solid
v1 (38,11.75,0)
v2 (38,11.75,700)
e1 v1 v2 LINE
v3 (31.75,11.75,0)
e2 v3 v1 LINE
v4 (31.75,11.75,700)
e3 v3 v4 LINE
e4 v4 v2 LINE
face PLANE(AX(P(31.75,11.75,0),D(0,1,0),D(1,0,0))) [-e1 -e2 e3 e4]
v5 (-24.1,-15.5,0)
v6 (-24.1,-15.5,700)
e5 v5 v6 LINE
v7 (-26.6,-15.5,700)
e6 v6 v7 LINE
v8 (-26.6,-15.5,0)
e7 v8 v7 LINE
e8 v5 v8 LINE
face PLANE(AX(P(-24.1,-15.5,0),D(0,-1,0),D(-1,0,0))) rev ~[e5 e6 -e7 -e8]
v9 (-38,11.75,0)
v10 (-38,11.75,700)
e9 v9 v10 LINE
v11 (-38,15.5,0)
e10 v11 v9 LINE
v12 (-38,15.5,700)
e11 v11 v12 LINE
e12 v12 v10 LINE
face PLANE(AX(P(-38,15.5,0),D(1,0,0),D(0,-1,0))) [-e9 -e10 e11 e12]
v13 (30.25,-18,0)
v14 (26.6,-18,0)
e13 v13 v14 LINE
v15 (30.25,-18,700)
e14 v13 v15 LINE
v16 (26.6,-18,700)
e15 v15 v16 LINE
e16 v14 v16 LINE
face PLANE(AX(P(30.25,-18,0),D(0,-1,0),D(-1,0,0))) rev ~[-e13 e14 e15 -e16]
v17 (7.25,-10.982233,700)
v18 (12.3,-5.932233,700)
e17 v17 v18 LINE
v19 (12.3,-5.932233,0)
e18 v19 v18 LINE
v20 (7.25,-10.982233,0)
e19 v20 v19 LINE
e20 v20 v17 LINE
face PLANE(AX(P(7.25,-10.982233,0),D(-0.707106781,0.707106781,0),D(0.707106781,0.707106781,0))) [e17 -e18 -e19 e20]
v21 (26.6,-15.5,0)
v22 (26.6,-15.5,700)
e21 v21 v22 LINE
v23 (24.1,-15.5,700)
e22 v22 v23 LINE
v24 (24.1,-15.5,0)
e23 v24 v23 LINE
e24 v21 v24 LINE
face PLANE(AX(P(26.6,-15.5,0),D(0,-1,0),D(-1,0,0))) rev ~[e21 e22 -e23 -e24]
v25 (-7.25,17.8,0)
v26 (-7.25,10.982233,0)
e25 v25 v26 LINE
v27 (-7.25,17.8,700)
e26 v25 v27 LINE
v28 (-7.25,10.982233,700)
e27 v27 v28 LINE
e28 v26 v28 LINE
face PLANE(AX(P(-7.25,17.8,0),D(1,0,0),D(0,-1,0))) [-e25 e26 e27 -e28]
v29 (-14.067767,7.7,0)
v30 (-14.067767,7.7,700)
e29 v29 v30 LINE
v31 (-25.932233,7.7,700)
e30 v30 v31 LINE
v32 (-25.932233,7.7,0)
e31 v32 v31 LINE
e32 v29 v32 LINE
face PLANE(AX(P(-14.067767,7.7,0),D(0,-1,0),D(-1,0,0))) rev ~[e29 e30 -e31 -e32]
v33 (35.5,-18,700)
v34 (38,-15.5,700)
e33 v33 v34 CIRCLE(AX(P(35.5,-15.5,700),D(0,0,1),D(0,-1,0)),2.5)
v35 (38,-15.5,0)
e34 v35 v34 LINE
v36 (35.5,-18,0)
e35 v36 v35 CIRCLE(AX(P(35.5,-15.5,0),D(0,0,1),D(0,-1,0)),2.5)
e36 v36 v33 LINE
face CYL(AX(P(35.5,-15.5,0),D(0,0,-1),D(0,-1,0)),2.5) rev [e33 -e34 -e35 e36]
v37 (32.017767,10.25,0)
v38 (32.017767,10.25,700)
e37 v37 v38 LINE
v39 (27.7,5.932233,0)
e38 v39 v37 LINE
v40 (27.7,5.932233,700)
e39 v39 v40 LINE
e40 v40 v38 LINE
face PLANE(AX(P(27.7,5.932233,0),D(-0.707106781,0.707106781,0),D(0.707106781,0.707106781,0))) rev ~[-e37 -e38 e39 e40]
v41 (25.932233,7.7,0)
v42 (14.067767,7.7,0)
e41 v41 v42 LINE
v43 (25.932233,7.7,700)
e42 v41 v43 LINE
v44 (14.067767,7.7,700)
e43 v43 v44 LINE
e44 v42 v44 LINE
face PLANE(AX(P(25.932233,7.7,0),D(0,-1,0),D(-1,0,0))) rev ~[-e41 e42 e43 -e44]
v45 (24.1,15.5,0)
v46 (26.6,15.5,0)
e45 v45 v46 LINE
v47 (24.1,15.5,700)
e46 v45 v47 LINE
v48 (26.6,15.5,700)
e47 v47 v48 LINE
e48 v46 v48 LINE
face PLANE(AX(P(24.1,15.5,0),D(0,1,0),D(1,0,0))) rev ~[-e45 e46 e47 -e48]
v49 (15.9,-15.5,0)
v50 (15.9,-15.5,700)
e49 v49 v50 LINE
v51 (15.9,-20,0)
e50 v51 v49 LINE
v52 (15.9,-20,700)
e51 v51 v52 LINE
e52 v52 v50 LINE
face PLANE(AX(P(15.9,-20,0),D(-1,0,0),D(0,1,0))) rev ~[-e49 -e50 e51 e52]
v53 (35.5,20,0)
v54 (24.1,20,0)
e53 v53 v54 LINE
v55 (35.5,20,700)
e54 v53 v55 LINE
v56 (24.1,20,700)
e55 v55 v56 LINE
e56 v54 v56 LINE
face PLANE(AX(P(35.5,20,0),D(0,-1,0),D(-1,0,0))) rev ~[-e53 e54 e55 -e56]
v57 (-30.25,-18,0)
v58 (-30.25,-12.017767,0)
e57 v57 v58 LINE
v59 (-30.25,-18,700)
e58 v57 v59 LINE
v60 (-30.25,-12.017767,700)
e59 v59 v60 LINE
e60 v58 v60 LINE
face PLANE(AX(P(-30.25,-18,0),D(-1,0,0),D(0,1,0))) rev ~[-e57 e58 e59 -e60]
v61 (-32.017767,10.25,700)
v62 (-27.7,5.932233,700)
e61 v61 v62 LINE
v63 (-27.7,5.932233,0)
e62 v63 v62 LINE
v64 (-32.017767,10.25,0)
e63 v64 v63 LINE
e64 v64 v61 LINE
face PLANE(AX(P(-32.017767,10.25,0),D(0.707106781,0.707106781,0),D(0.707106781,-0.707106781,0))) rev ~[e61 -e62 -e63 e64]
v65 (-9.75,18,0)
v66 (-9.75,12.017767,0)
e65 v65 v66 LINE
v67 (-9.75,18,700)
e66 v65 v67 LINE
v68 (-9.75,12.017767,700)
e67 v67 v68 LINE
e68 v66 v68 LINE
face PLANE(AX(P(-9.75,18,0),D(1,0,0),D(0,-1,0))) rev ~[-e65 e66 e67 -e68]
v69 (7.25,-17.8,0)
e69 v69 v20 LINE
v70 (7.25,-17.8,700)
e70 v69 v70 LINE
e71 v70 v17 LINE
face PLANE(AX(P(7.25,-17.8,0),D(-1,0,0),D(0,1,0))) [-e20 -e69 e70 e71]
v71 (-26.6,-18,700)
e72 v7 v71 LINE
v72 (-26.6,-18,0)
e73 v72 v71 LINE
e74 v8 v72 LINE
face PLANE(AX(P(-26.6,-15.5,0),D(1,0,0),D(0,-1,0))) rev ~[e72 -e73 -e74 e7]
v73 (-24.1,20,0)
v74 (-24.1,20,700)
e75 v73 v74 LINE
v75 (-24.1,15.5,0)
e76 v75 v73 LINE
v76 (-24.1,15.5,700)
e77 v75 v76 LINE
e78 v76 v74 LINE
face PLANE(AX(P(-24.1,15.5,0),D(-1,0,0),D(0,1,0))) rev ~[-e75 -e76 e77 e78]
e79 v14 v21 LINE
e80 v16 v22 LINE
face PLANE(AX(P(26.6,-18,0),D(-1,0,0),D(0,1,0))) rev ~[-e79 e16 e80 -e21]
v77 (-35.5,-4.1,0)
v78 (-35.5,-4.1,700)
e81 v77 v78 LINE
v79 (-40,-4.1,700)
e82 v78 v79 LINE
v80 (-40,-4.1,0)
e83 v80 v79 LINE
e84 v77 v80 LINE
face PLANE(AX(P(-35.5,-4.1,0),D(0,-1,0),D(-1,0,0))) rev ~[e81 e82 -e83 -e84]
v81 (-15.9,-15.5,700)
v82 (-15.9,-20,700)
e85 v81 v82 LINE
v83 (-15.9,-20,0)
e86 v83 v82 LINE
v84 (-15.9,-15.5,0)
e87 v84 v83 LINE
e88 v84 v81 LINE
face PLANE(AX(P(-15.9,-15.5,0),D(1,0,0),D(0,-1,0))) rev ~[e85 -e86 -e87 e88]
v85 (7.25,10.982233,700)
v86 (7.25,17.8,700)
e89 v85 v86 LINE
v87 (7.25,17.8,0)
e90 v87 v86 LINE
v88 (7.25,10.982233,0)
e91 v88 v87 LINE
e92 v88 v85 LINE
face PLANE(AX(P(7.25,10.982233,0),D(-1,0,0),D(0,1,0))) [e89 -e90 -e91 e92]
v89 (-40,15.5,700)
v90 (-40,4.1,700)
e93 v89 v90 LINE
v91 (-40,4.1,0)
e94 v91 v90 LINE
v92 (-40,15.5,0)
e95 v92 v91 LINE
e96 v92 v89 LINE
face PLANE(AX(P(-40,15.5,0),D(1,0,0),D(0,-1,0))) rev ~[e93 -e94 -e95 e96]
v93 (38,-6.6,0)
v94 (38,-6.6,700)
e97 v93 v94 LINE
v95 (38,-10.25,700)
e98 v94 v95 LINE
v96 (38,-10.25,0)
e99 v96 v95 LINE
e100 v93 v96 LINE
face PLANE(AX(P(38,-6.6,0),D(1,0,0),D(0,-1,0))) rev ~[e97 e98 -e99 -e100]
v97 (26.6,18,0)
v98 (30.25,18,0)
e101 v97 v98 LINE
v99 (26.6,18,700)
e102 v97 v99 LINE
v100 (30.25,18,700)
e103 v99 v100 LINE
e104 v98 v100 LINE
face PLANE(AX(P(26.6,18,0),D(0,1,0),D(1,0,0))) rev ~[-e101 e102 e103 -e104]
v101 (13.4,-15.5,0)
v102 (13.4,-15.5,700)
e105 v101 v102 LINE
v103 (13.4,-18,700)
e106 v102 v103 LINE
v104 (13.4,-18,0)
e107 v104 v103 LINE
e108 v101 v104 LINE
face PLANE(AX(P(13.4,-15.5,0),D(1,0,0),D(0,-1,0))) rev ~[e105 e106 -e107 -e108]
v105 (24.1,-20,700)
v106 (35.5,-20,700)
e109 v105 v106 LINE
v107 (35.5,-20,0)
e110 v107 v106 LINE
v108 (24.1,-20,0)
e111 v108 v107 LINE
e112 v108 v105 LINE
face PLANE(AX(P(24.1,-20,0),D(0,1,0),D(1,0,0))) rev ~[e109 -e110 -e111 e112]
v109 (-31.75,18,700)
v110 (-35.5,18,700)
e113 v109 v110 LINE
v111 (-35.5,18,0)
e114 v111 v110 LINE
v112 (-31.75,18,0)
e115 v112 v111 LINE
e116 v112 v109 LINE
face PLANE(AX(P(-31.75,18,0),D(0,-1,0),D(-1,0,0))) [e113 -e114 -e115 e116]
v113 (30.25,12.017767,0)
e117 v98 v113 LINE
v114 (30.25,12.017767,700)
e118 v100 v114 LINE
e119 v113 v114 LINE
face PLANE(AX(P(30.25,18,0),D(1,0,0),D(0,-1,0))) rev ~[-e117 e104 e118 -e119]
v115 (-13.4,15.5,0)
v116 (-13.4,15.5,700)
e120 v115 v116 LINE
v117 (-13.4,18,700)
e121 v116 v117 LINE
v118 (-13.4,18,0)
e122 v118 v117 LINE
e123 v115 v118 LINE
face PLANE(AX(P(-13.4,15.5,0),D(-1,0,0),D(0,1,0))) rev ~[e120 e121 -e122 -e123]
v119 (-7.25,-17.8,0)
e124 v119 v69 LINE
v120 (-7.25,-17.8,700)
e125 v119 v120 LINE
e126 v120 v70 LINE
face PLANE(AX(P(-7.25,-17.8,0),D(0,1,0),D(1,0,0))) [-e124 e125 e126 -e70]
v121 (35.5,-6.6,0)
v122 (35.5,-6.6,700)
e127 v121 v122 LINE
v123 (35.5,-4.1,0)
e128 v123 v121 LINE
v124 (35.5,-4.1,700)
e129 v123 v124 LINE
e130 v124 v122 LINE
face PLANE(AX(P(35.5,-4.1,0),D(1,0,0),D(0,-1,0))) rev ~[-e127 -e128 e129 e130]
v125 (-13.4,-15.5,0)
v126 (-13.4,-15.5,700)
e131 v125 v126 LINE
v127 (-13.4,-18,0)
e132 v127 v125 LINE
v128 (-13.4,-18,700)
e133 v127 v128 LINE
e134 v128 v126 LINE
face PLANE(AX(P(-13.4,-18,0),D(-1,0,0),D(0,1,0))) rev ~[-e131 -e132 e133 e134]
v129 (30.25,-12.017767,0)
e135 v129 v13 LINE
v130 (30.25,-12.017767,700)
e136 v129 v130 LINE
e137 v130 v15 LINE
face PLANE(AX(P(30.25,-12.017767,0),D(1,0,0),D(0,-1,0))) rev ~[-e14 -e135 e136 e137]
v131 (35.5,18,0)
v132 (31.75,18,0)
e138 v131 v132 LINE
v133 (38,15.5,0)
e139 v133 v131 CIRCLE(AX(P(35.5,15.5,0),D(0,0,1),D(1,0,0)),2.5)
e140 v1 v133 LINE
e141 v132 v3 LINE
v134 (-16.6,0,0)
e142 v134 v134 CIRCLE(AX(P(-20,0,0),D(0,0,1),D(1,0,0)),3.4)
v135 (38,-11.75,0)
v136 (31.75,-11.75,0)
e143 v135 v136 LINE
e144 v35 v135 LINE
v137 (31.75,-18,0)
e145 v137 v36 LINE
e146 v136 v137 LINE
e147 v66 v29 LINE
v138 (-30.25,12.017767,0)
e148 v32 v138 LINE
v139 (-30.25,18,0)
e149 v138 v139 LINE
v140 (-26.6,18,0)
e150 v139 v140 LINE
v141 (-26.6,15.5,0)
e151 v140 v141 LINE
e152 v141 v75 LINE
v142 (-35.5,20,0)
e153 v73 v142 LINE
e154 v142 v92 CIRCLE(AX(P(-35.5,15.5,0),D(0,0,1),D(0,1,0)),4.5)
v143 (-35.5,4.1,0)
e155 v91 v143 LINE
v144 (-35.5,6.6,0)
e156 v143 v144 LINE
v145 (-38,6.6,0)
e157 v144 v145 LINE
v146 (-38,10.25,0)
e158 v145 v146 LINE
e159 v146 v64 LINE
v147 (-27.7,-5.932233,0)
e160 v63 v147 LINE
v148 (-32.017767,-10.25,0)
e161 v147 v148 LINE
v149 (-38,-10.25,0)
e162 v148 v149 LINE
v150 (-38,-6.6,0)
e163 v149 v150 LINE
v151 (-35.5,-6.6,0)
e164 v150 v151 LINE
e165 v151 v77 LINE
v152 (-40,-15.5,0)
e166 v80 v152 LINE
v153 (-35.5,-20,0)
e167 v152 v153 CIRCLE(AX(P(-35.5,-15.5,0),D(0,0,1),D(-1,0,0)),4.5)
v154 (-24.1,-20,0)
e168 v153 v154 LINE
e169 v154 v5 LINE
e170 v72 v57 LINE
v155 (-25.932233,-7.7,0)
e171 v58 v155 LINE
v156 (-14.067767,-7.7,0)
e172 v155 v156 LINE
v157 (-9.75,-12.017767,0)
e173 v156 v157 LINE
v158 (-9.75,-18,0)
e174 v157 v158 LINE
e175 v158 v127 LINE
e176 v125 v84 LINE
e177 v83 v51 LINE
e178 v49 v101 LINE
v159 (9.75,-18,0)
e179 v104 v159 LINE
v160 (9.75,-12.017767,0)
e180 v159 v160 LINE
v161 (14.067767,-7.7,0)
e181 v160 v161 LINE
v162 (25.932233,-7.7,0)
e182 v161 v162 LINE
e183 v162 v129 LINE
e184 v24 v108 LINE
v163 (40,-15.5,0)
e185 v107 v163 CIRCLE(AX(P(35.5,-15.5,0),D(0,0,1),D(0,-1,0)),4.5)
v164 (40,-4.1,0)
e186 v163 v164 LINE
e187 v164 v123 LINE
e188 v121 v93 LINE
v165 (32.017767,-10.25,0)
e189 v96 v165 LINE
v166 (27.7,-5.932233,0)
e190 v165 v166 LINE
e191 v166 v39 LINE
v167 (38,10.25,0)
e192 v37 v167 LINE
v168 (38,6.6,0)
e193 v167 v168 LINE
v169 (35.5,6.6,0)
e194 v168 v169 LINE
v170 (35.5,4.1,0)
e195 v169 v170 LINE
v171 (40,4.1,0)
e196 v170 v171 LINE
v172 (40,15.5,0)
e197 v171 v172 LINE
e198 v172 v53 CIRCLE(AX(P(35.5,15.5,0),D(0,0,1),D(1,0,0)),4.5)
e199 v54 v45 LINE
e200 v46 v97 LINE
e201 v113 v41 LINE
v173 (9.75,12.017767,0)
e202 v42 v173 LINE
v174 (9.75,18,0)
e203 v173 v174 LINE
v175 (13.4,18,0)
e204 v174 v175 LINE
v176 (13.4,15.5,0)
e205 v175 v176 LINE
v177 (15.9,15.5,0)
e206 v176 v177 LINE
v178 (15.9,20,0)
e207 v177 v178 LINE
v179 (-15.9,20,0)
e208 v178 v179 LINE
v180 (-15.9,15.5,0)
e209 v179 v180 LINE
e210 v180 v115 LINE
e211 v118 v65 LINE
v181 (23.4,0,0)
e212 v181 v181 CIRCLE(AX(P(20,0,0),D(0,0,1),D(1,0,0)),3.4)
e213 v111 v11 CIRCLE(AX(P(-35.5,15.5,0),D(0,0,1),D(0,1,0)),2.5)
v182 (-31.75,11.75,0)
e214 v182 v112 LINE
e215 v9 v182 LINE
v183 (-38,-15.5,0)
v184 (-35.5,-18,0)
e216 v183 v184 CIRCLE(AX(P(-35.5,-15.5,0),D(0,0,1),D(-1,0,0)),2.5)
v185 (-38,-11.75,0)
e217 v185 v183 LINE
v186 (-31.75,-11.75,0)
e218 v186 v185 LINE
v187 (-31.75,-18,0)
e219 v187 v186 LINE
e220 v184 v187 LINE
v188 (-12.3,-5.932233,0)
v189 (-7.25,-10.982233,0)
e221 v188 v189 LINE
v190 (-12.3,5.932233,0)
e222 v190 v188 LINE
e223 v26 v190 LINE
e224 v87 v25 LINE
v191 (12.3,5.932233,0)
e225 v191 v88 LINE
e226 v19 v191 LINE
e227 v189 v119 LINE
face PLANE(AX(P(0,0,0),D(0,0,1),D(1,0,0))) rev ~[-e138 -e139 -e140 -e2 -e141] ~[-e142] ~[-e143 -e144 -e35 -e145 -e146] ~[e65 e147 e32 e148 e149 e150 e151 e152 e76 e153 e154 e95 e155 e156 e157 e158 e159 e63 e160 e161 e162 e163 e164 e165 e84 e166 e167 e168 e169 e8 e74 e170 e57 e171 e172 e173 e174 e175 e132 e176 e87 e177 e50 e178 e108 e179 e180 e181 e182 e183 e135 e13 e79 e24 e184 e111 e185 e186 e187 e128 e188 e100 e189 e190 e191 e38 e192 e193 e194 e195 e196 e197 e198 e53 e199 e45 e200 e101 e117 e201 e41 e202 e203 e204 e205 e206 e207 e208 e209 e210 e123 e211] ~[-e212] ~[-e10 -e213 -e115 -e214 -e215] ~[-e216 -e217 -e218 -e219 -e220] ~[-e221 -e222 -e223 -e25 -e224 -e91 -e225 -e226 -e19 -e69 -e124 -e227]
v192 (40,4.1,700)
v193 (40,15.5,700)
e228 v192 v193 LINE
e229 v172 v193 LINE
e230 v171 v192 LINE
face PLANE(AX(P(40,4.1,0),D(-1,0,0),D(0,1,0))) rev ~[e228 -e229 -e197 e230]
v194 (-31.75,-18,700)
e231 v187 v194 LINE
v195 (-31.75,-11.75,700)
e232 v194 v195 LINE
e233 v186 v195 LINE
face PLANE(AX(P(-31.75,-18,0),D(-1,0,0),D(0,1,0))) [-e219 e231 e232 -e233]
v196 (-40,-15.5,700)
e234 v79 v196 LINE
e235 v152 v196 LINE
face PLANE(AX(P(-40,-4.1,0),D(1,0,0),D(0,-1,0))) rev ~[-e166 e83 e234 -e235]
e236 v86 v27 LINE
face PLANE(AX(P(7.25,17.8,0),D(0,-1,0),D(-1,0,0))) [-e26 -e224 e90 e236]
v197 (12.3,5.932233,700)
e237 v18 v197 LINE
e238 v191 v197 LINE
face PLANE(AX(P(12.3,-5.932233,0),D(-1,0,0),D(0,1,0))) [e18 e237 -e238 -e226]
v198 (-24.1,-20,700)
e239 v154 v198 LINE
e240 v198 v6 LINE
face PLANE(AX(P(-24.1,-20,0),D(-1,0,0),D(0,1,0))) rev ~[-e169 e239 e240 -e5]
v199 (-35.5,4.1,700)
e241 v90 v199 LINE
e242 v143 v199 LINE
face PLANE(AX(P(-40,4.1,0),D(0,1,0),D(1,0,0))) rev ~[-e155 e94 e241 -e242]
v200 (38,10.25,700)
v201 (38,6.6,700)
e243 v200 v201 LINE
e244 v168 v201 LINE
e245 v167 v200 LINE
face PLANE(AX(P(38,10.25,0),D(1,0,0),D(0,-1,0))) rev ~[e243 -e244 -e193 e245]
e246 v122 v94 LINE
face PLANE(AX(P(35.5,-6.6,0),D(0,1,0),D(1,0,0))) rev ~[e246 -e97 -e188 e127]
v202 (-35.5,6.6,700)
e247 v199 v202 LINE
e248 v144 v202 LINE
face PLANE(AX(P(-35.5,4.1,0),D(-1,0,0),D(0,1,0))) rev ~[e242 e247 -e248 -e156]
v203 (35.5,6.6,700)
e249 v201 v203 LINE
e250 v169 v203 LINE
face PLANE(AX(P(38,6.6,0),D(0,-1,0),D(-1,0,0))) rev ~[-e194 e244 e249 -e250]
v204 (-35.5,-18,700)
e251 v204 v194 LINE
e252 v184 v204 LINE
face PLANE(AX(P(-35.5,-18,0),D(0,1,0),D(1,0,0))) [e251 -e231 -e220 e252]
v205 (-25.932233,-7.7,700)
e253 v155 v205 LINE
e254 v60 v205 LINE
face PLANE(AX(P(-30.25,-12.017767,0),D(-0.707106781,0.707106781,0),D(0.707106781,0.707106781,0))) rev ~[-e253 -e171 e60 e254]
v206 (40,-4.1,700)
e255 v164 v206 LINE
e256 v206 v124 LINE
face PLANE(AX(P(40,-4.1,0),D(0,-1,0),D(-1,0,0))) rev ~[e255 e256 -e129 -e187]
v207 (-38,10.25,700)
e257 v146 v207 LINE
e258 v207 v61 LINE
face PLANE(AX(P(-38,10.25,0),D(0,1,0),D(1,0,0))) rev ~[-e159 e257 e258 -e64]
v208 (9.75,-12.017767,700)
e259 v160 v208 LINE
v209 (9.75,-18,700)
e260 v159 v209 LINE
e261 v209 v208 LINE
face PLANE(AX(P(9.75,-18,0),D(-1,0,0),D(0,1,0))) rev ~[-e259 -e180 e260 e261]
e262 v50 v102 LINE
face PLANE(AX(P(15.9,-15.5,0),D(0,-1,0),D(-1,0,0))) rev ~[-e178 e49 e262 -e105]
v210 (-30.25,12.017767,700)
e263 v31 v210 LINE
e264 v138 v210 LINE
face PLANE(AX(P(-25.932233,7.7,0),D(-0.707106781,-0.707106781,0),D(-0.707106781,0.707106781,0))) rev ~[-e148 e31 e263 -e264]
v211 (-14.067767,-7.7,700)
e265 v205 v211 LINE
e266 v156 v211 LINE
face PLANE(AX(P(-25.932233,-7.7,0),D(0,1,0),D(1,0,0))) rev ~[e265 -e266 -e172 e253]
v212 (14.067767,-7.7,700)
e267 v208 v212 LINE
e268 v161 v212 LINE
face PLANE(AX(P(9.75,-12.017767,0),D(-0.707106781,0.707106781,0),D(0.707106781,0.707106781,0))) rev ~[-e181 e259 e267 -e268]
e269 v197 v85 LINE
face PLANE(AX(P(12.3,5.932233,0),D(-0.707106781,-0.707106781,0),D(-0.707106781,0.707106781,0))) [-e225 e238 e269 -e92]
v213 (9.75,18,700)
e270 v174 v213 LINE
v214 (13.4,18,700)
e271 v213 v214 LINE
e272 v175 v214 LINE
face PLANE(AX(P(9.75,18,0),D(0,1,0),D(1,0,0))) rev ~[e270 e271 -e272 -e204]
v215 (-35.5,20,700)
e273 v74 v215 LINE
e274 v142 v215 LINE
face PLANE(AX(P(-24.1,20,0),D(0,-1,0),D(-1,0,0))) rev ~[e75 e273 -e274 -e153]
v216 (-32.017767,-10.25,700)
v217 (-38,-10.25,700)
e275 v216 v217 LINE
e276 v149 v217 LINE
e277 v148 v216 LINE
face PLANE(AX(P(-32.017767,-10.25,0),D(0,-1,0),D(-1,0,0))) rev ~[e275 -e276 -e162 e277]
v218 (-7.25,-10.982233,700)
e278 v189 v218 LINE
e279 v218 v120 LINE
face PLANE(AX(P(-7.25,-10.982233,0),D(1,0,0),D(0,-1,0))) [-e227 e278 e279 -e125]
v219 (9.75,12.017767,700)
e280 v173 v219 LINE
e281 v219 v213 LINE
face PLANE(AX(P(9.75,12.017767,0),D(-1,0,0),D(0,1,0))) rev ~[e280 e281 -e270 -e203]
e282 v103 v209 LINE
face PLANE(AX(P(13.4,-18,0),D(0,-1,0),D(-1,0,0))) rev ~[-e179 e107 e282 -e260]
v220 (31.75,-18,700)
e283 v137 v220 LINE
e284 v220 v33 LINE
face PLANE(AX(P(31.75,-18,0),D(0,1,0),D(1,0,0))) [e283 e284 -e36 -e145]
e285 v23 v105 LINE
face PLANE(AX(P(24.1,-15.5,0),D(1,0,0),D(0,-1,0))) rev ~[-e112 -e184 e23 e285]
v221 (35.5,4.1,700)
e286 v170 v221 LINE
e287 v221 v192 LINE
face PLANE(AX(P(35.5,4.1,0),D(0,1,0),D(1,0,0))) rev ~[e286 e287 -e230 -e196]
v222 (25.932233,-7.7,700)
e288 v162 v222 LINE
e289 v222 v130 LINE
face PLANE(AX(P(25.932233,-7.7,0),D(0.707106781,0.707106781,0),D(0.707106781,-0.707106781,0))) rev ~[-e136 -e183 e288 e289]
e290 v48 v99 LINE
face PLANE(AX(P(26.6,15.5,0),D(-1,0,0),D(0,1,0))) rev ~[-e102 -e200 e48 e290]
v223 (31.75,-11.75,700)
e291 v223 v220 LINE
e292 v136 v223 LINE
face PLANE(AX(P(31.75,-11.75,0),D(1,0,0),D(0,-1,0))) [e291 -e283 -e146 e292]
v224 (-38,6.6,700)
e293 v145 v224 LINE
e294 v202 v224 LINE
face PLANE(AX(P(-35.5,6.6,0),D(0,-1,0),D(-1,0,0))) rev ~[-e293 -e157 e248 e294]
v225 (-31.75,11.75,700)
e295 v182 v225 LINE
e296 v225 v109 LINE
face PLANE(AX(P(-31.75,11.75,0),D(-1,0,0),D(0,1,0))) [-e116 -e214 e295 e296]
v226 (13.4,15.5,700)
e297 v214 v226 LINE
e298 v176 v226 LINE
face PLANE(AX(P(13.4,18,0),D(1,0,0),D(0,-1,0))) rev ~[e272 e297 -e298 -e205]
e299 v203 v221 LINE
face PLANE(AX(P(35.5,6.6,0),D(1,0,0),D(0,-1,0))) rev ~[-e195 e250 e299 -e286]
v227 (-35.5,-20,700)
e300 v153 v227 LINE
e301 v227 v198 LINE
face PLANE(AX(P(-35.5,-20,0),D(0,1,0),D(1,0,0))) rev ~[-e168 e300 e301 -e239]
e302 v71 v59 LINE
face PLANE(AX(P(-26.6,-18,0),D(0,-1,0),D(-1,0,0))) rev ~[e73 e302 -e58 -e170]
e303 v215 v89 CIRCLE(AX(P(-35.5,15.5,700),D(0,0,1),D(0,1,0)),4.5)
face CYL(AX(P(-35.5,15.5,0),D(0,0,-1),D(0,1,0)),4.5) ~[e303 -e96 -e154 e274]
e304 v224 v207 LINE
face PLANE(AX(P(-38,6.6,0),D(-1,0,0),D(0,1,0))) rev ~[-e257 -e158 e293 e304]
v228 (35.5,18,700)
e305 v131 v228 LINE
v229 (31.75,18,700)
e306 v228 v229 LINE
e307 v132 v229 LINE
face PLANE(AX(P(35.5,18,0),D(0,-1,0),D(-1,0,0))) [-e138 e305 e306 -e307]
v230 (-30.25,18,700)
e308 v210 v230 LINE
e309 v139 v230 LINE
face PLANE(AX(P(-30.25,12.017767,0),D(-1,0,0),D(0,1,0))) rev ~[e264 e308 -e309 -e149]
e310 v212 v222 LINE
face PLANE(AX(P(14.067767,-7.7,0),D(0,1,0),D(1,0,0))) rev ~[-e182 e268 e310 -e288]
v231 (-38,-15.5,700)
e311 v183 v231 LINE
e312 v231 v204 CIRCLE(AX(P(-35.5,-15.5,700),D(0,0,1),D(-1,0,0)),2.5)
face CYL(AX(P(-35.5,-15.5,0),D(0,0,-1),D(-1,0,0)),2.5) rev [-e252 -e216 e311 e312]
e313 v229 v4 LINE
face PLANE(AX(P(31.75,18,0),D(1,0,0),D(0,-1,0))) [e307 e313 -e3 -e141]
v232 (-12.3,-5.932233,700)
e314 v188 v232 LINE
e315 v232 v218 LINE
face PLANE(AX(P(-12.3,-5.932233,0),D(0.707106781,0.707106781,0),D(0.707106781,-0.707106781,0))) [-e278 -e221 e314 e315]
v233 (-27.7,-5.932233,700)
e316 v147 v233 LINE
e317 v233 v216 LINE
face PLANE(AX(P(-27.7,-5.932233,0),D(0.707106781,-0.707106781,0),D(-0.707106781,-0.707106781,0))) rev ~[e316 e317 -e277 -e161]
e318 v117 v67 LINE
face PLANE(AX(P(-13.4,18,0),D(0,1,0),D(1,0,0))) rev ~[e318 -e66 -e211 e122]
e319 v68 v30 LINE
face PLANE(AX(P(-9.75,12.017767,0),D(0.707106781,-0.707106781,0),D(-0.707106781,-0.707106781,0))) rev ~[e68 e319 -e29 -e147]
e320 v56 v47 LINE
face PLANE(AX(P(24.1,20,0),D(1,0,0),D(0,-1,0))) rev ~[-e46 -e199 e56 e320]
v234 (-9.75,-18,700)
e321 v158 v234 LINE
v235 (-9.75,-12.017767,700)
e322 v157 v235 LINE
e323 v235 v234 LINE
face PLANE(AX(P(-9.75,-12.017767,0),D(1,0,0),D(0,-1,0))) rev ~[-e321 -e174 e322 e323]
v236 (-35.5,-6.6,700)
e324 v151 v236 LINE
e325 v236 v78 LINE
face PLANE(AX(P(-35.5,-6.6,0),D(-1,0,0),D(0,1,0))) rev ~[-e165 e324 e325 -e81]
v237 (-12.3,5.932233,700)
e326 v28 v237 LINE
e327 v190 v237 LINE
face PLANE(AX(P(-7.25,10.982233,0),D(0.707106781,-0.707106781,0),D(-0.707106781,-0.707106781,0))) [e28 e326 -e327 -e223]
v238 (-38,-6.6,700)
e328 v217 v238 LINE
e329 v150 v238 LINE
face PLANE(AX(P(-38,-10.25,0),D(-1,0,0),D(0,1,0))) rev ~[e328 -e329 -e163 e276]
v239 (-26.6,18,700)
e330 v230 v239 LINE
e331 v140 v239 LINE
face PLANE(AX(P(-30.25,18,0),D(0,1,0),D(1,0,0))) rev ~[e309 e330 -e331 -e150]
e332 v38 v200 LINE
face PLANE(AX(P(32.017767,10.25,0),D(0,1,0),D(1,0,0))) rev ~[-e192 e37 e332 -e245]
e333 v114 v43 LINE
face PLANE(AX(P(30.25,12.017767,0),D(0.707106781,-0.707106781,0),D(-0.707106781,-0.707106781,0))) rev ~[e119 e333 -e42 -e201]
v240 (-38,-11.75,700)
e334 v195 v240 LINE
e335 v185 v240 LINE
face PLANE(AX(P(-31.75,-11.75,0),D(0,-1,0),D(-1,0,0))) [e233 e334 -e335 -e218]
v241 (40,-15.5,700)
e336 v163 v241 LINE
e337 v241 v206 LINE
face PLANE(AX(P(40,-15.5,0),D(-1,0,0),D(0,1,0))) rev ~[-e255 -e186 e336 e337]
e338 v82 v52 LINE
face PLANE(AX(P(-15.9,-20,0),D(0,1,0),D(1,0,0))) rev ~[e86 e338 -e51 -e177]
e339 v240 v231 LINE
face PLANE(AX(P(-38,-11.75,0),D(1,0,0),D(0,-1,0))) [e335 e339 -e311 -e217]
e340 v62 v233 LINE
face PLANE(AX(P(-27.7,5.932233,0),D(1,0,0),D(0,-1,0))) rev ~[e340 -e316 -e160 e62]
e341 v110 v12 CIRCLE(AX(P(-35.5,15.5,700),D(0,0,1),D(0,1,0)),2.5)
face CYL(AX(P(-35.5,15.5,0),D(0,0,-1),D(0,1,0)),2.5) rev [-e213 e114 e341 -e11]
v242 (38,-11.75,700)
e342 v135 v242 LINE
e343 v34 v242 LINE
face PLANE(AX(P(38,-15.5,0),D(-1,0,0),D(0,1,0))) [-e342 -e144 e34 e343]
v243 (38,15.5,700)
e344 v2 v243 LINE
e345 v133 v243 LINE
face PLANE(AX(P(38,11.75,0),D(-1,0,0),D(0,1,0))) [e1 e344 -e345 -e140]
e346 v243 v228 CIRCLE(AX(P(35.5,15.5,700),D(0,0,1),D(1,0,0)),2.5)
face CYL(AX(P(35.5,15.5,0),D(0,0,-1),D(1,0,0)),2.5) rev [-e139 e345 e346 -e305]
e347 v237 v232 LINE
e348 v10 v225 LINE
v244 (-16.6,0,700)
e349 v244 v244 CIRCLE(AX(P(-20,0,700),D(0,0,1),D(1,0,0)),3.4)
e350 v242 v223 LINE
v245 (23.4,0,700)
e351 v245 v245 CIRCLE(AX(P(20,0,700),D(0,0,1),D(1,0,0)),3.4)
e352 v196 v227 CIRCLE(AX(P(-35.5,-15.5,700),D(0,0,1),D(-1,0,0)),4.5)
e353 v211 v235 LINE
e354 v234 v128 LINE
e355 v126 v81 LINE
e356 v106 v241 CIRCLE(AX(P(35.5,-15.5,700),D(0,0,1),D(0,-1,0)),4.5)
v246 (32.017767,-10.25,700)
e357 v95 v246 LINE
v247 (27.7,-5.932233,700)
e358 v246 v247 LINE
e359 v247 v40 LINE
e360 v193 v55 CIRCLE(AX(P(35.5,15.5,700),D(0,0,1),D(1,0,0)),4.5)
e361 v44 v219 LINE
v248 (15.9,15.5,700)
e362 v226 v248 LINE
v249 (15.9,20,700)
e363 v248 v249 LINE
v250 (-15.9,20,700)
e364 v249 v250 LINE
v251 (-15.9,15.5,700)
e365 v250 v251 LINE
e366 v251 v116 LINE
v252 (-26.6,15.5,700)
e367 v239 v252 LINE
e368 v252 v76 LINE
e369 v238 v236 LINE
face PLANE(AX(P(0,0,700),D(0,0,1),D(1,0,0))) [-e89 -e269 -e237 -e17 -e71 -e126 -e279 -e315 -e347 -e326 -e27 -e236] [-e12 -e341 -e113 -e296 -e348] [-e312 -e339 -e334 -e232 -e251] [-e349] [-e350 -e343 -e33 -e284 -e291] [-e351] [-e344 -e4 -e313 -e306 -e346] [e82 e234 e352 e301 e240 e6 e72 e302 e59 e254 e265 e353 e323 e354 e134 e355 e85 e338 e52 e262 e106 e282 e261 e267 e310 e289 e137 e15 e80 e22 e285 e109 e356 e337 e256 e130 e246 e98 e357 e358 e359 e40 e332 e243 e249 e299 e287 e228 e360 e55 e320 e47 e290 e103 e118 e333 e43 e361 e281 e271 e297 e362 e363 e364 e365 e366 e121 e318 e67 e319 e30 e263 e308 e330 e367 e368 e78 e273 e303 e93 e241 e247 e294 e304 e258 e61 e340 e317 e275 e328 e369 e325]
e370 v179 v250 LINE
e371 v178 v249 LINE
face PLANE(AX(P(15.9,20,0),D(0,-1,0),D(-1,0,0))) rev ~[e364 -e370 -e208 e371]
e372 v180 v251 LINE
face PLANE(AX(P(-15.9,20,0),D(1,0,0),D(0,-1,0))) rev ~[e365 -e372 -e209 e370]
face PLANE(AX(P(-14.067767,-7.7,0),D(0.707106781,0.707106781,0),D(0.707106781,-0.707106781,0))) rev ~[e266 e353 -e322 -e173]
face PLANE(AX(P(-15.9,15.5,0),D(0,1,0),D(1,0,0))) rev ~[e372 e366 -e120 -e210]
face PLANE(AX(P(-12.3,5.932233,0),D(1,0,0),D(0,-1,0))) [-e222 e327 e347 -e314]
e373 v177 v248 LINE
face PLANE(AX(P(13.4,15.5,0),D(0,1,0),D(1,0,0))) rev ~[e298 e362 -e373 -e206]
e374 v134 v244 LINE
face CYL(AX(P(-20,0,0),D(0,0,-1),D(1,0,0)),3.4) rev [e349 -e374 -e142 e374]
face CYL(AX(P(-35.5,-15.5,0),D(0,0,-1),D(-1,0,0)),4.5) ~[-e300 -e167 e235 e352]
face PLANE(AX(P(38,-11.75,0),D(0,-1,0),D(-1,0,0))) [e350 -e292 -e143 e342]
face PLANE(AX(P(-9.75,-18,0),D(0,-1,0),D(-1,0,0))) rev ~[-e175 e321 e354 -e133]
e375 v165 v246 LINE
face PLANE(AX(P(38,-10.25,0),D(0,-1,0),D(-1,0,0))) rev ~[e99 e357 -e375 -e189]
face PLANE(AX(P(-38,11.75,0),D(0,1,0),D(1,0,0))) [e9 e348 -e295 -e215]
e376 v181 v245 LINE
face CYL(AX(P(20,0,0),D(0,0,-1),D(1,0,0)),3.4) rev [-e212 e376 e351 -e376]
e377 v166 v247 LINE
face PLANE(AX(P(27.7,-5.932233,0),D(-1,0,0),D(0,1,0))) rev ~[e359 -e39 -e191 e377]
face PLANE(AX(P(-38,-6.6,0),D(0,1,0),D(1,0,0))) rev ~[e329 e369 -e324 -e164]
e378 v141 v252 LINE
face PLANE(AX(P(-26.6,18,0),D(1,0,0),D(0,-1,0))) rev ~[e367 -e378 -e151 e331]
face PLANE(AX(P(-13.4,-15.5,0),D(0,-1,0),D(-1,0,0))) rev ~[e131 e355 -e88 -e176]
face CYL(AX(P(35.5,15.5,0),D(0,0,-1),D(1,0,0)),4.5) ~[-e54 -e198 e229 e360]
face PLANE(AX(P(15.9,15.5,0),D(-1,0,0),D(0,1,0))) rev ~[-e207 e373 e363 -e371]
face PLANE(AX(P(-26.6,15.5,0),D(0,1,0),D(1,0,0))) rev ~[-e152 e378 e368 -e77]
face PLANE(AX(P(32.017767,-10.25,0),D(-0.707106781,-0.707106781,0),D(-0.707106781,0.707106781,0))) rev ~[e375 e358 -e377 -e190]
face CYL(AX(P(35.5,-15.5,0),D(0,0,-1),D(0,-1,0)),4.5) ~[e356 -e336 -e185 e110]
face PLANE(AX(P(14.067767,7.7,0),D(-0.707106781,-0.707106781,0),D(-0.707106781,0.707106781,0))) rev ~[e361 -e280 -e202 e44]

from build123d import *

# Parameters (mm, degrees)
SKETCH1_R           = 3.4
BOSS_EXTRUDE1_DEPTH = 700


with BuildPart() as part:
    # Sketch1 → Boss-Extrude1 (new body)
    with BuildSketch(Plane.XY):
        with BuildLine():
            Line((24.1, -20), (35.5, -20))
            ThreePointArc((35.5, -20), (38.681980515, -18.681980515), (40, -15.5))
            Line((40, -15.5), (40, -4.1))
            Line((40, -4.1), (35.5, -4.1))
            Line((35.5, -4.1), (35.5, -6.6))
            Line((35.5, -6.6), (38, -6.6))
            Line((38, -6.6), (38, -10.25))
            Line((38, -10.25), (32.017766953, -10.25))
            Line((32.017766953, -10.25), (27.7, -5.932233047))
            Line((27.7, -5.932233047), (27.7, 5.932233047))
            Line((27.7, 5.932233047), (32.017766953, 10.25))
            Line((32.017766953, 10.25), (38, 10.25))
            Line((38, 10.25), (38, 6.6))
            Line((38, 6.6), (35.5, 6.6))
            Line((35.5, 6.6), (35.5, 4.1))
            Line((35.5, 4.1), (40, 4.1))
            Line((40, 4.1), (40, 15.5))
            ThreePointArc((40, 15.5), (38.681980515, 18.681980515), (35.5, 20))
            Line((35.5, 20), (24.1, 20))
            Line((24.1, 20), (24.1, 15.5))
            Line((24.1, 15.5), (26.6, 15.5))
            Line((26.6, 15.5), (26.6, 18))
            Line((26.6, 18), (30.25, 18))
            Line((30.25, 18), (30.25, 12.017766953))
            Line((30.25, 12.017766953), (25.932233047, 7.7))
            Line((25.932233047, 7.7), (14.067766953, 7.7))
            Line((14.067766953, 7.7), (9.75, 12.017766953))
            Line((9.75, 12.017766953), (9.75, 18))
            Line((9.75, 18), (13.4, 18))
            Line((13.4, 18), (13.4, 15.5))
            Line((13.4, 15.5), (15.9, 15.5))
            Line((15.9, 15.5), (15.9, 20))
            Line((15.9, 20), (-15.9, 20))
            Line((-15.9, 20), (-15.9, 15.5))
            Line((-15.9, 15.5), (-13.4, 15.5))
            Line((-13.4, 15.5), (-13.4, 18))
            Line((-13.4, 18), (-9.75, 18))
            Line((-9.75, 18), (-9.75, 12.017766953))
            Line((-9.75, 12.017766953), (-14.067766953, 7.7))
            Line((-14.067766953, 7.7), (-25.932233047, 7.7))
            Line((-25.932233047, 7.7), (-30.25, 12.017766953))
            Line((-30.25, 12.017766953), (-30.25, 18))
            Line((-30.25, 18), (-26.6, 18))
            Line((-26.6, 18), (-26.6, 15.5))
            Line((-26.6, 15.5), (-24.1, 15.5))
            Line((-24.1, 15.5), (-24.1, 20))
            Line((-24.1, 20), (-35.5, 20))
            ThreePointArc((-35.5, 20), (-38.681980515, 18.681980515), (-40, 15.5))
            Line((-40, 15.5), (-40, 4.1))
            Line((-40, 4.1), (-35.5, 4.1))
            Line((-35.5, 4.1), (-35.5, 6.6))
            Line((-35.5, 6.6), (-38, 6.6))
            Line((-38, 6.6), (-38, 10.25))
            Line((-38, 10.25), (-32.017766953, 10.25))
            Line((-32.017766953, 10.25), (-27.7, 5.932233047))
            Line((-27.7, 5.932233047), (-27.7, -5.932233047))
            Line((-27.7, -5.932233047), (-32.017766953, -10.25))
            Line((-32.017766953, -10.25), (-38, -10.25))
            Line((-38, -10.25), (-38, -6.6))
            Line((-38, -6.6), (-35.5, -6.6))
            Line((-35.5, -6.6), (-35.5, -4.1))
            Line((-35.5, -4.1), (-40, -4.1))
            Line((-40, -4.1), (-40, -15.5))
            ThreePointArc((-40, -15.5), (-38.681980515, -18.681980515), (-35.5, -20))
            Line((-35.5, -20), (-24.1, -20))
            Line((-24.1, -20), (-24.1, -15.5))
            Line((-24.1, -15.5), (-26.6, -15.5))
            Line((-26.6, -15.5), (-26.6, -18))
            Line((-26.6, -18), (-30.25, -18))
            Line((-30.25, -18), (-30.25, -12.017766953))
            Line((-30.25, -12.017766953), (-25.932233047, -7.7))
            Line((-25.932233047, -7.7), (-14.067766953, -7.7))
            Line((-14.067766953, -7.7), (-9.75, -12.017766953))
            Line((-9.75, -12.017766953), (-9.75, -18))
            Line((-9.75, -18), (-13.4, -18))
            Line((-13.4, -18), (-13.4, -15.5))
            Line((-13.4, -15.5), (-15.9, -15.5))
            Line((-15.9, -15.5), (-15.9, -20))
            Line((-15.9, -20), (15.9, -20))
            Line((15.9, -20), (15.9, -15.5))
            Line((15.9, -15.5), (13.4, -15.5))
            Line((13.4, -15.5), (13.4, -18))
            Line((13.4, -18), (9.75, -18))
            Line((9.75, -18), (9.75, -12.017766953))
            Line((9.75, -12.017766953), (14.067766953, -7.7))
            Line((14.067766953, -7.7), (25.932233047, -7.7))
            Line((25.932233047, -7.7), (30.25, -12.017766953))
            Line((30.25, -12.017766953), (30.25, -18))
            Line((30.25, -18), (26.6, -18))
            Line((26.6, -18), (26.6, -15.5))
            Line((26.6, -15.5), (24.1, -15.5))
            Line((24.1, -15.5), (24.1, -20))
        make_face()
        with Locations((-20, 0)):
            Circle(SKETCH1_R, mode=Mode.SUBTRACT)
        with Locations((20, 0)):
            Circle(SKETCH1_R, mode=Mode.SUBTRACT)
        with BuildLine():
            Line((38, -15.5), (38, -11.75))
            Line((38, -11.75), (31.75, -11.75))
            Line((31.75, -11.75), (31.75, -18))
            Line((31.75, -18), (35.5, -18))
            ThreePointArc((35.5, -18), (37.267766953, -17.267766953), (38, -15.5))
        make_face(mode=Mode.SUBTRACT)
        with BuildLine():
            Line((-38, 15.5), (-38, 11.75))
            Line((-38, 11.75), (-31.75, 11.75))
            Line((-31.75, 11.75), (-31.75, 18))
            Line((-31.75, 18), (-35.5, 18))
            ThreePointArc((-35.5, 18), (-37.267766953, 17.267766953), (-38, 15.5))
        make_face(mode=Mode.SUBTRACT)
        Polygon((-7.25, -10.982233047), (-7.25, -17.8), (7.25, -17.8), (7.25, -10.982233047), (12.3, -5.932233047), (12.3, 5.932233047), (7.25, 10.982233047), (7.25, 17.8), (-7.25, 17.8), (-7.25, 10.982233047), (-12.3, 5.932233047), (-12.3, -5.932233047), align=None, mode=Mode.SUBTRACT)
        with BuildLine():
            Line((-35.5, -18), (-31.75, -18))
            Line((-31.75, -18), (-31.75, -11.75))
            Line((-31.75, -11.75), (-38, -11.75))
            Line((-38, -11.75), (-38, -15.5))
            ThreePointArc((-38, -15.5), (-37.267766953, -17.267766953), (-35.5, -18))
        make_face(mode=Mode.SUBTRACT)
        with BuildLine():
            Line((35.5, 18), (31.75, 18))
            Line((31.75, 18), (31.75, 11.75))
            Line((31.75, 11.75), (38, 11.75))
            Line((38, 11.75), (38, 15.5))
            ThreePointArc((38, 15.5), (37.267766953, 17.267766953), (35.5, 18))
        make_face(mode=Mode.SUBTRACT)
    extrude(amount=BOSS_EXTRUDE1_DEPTH)


solid = part.part
